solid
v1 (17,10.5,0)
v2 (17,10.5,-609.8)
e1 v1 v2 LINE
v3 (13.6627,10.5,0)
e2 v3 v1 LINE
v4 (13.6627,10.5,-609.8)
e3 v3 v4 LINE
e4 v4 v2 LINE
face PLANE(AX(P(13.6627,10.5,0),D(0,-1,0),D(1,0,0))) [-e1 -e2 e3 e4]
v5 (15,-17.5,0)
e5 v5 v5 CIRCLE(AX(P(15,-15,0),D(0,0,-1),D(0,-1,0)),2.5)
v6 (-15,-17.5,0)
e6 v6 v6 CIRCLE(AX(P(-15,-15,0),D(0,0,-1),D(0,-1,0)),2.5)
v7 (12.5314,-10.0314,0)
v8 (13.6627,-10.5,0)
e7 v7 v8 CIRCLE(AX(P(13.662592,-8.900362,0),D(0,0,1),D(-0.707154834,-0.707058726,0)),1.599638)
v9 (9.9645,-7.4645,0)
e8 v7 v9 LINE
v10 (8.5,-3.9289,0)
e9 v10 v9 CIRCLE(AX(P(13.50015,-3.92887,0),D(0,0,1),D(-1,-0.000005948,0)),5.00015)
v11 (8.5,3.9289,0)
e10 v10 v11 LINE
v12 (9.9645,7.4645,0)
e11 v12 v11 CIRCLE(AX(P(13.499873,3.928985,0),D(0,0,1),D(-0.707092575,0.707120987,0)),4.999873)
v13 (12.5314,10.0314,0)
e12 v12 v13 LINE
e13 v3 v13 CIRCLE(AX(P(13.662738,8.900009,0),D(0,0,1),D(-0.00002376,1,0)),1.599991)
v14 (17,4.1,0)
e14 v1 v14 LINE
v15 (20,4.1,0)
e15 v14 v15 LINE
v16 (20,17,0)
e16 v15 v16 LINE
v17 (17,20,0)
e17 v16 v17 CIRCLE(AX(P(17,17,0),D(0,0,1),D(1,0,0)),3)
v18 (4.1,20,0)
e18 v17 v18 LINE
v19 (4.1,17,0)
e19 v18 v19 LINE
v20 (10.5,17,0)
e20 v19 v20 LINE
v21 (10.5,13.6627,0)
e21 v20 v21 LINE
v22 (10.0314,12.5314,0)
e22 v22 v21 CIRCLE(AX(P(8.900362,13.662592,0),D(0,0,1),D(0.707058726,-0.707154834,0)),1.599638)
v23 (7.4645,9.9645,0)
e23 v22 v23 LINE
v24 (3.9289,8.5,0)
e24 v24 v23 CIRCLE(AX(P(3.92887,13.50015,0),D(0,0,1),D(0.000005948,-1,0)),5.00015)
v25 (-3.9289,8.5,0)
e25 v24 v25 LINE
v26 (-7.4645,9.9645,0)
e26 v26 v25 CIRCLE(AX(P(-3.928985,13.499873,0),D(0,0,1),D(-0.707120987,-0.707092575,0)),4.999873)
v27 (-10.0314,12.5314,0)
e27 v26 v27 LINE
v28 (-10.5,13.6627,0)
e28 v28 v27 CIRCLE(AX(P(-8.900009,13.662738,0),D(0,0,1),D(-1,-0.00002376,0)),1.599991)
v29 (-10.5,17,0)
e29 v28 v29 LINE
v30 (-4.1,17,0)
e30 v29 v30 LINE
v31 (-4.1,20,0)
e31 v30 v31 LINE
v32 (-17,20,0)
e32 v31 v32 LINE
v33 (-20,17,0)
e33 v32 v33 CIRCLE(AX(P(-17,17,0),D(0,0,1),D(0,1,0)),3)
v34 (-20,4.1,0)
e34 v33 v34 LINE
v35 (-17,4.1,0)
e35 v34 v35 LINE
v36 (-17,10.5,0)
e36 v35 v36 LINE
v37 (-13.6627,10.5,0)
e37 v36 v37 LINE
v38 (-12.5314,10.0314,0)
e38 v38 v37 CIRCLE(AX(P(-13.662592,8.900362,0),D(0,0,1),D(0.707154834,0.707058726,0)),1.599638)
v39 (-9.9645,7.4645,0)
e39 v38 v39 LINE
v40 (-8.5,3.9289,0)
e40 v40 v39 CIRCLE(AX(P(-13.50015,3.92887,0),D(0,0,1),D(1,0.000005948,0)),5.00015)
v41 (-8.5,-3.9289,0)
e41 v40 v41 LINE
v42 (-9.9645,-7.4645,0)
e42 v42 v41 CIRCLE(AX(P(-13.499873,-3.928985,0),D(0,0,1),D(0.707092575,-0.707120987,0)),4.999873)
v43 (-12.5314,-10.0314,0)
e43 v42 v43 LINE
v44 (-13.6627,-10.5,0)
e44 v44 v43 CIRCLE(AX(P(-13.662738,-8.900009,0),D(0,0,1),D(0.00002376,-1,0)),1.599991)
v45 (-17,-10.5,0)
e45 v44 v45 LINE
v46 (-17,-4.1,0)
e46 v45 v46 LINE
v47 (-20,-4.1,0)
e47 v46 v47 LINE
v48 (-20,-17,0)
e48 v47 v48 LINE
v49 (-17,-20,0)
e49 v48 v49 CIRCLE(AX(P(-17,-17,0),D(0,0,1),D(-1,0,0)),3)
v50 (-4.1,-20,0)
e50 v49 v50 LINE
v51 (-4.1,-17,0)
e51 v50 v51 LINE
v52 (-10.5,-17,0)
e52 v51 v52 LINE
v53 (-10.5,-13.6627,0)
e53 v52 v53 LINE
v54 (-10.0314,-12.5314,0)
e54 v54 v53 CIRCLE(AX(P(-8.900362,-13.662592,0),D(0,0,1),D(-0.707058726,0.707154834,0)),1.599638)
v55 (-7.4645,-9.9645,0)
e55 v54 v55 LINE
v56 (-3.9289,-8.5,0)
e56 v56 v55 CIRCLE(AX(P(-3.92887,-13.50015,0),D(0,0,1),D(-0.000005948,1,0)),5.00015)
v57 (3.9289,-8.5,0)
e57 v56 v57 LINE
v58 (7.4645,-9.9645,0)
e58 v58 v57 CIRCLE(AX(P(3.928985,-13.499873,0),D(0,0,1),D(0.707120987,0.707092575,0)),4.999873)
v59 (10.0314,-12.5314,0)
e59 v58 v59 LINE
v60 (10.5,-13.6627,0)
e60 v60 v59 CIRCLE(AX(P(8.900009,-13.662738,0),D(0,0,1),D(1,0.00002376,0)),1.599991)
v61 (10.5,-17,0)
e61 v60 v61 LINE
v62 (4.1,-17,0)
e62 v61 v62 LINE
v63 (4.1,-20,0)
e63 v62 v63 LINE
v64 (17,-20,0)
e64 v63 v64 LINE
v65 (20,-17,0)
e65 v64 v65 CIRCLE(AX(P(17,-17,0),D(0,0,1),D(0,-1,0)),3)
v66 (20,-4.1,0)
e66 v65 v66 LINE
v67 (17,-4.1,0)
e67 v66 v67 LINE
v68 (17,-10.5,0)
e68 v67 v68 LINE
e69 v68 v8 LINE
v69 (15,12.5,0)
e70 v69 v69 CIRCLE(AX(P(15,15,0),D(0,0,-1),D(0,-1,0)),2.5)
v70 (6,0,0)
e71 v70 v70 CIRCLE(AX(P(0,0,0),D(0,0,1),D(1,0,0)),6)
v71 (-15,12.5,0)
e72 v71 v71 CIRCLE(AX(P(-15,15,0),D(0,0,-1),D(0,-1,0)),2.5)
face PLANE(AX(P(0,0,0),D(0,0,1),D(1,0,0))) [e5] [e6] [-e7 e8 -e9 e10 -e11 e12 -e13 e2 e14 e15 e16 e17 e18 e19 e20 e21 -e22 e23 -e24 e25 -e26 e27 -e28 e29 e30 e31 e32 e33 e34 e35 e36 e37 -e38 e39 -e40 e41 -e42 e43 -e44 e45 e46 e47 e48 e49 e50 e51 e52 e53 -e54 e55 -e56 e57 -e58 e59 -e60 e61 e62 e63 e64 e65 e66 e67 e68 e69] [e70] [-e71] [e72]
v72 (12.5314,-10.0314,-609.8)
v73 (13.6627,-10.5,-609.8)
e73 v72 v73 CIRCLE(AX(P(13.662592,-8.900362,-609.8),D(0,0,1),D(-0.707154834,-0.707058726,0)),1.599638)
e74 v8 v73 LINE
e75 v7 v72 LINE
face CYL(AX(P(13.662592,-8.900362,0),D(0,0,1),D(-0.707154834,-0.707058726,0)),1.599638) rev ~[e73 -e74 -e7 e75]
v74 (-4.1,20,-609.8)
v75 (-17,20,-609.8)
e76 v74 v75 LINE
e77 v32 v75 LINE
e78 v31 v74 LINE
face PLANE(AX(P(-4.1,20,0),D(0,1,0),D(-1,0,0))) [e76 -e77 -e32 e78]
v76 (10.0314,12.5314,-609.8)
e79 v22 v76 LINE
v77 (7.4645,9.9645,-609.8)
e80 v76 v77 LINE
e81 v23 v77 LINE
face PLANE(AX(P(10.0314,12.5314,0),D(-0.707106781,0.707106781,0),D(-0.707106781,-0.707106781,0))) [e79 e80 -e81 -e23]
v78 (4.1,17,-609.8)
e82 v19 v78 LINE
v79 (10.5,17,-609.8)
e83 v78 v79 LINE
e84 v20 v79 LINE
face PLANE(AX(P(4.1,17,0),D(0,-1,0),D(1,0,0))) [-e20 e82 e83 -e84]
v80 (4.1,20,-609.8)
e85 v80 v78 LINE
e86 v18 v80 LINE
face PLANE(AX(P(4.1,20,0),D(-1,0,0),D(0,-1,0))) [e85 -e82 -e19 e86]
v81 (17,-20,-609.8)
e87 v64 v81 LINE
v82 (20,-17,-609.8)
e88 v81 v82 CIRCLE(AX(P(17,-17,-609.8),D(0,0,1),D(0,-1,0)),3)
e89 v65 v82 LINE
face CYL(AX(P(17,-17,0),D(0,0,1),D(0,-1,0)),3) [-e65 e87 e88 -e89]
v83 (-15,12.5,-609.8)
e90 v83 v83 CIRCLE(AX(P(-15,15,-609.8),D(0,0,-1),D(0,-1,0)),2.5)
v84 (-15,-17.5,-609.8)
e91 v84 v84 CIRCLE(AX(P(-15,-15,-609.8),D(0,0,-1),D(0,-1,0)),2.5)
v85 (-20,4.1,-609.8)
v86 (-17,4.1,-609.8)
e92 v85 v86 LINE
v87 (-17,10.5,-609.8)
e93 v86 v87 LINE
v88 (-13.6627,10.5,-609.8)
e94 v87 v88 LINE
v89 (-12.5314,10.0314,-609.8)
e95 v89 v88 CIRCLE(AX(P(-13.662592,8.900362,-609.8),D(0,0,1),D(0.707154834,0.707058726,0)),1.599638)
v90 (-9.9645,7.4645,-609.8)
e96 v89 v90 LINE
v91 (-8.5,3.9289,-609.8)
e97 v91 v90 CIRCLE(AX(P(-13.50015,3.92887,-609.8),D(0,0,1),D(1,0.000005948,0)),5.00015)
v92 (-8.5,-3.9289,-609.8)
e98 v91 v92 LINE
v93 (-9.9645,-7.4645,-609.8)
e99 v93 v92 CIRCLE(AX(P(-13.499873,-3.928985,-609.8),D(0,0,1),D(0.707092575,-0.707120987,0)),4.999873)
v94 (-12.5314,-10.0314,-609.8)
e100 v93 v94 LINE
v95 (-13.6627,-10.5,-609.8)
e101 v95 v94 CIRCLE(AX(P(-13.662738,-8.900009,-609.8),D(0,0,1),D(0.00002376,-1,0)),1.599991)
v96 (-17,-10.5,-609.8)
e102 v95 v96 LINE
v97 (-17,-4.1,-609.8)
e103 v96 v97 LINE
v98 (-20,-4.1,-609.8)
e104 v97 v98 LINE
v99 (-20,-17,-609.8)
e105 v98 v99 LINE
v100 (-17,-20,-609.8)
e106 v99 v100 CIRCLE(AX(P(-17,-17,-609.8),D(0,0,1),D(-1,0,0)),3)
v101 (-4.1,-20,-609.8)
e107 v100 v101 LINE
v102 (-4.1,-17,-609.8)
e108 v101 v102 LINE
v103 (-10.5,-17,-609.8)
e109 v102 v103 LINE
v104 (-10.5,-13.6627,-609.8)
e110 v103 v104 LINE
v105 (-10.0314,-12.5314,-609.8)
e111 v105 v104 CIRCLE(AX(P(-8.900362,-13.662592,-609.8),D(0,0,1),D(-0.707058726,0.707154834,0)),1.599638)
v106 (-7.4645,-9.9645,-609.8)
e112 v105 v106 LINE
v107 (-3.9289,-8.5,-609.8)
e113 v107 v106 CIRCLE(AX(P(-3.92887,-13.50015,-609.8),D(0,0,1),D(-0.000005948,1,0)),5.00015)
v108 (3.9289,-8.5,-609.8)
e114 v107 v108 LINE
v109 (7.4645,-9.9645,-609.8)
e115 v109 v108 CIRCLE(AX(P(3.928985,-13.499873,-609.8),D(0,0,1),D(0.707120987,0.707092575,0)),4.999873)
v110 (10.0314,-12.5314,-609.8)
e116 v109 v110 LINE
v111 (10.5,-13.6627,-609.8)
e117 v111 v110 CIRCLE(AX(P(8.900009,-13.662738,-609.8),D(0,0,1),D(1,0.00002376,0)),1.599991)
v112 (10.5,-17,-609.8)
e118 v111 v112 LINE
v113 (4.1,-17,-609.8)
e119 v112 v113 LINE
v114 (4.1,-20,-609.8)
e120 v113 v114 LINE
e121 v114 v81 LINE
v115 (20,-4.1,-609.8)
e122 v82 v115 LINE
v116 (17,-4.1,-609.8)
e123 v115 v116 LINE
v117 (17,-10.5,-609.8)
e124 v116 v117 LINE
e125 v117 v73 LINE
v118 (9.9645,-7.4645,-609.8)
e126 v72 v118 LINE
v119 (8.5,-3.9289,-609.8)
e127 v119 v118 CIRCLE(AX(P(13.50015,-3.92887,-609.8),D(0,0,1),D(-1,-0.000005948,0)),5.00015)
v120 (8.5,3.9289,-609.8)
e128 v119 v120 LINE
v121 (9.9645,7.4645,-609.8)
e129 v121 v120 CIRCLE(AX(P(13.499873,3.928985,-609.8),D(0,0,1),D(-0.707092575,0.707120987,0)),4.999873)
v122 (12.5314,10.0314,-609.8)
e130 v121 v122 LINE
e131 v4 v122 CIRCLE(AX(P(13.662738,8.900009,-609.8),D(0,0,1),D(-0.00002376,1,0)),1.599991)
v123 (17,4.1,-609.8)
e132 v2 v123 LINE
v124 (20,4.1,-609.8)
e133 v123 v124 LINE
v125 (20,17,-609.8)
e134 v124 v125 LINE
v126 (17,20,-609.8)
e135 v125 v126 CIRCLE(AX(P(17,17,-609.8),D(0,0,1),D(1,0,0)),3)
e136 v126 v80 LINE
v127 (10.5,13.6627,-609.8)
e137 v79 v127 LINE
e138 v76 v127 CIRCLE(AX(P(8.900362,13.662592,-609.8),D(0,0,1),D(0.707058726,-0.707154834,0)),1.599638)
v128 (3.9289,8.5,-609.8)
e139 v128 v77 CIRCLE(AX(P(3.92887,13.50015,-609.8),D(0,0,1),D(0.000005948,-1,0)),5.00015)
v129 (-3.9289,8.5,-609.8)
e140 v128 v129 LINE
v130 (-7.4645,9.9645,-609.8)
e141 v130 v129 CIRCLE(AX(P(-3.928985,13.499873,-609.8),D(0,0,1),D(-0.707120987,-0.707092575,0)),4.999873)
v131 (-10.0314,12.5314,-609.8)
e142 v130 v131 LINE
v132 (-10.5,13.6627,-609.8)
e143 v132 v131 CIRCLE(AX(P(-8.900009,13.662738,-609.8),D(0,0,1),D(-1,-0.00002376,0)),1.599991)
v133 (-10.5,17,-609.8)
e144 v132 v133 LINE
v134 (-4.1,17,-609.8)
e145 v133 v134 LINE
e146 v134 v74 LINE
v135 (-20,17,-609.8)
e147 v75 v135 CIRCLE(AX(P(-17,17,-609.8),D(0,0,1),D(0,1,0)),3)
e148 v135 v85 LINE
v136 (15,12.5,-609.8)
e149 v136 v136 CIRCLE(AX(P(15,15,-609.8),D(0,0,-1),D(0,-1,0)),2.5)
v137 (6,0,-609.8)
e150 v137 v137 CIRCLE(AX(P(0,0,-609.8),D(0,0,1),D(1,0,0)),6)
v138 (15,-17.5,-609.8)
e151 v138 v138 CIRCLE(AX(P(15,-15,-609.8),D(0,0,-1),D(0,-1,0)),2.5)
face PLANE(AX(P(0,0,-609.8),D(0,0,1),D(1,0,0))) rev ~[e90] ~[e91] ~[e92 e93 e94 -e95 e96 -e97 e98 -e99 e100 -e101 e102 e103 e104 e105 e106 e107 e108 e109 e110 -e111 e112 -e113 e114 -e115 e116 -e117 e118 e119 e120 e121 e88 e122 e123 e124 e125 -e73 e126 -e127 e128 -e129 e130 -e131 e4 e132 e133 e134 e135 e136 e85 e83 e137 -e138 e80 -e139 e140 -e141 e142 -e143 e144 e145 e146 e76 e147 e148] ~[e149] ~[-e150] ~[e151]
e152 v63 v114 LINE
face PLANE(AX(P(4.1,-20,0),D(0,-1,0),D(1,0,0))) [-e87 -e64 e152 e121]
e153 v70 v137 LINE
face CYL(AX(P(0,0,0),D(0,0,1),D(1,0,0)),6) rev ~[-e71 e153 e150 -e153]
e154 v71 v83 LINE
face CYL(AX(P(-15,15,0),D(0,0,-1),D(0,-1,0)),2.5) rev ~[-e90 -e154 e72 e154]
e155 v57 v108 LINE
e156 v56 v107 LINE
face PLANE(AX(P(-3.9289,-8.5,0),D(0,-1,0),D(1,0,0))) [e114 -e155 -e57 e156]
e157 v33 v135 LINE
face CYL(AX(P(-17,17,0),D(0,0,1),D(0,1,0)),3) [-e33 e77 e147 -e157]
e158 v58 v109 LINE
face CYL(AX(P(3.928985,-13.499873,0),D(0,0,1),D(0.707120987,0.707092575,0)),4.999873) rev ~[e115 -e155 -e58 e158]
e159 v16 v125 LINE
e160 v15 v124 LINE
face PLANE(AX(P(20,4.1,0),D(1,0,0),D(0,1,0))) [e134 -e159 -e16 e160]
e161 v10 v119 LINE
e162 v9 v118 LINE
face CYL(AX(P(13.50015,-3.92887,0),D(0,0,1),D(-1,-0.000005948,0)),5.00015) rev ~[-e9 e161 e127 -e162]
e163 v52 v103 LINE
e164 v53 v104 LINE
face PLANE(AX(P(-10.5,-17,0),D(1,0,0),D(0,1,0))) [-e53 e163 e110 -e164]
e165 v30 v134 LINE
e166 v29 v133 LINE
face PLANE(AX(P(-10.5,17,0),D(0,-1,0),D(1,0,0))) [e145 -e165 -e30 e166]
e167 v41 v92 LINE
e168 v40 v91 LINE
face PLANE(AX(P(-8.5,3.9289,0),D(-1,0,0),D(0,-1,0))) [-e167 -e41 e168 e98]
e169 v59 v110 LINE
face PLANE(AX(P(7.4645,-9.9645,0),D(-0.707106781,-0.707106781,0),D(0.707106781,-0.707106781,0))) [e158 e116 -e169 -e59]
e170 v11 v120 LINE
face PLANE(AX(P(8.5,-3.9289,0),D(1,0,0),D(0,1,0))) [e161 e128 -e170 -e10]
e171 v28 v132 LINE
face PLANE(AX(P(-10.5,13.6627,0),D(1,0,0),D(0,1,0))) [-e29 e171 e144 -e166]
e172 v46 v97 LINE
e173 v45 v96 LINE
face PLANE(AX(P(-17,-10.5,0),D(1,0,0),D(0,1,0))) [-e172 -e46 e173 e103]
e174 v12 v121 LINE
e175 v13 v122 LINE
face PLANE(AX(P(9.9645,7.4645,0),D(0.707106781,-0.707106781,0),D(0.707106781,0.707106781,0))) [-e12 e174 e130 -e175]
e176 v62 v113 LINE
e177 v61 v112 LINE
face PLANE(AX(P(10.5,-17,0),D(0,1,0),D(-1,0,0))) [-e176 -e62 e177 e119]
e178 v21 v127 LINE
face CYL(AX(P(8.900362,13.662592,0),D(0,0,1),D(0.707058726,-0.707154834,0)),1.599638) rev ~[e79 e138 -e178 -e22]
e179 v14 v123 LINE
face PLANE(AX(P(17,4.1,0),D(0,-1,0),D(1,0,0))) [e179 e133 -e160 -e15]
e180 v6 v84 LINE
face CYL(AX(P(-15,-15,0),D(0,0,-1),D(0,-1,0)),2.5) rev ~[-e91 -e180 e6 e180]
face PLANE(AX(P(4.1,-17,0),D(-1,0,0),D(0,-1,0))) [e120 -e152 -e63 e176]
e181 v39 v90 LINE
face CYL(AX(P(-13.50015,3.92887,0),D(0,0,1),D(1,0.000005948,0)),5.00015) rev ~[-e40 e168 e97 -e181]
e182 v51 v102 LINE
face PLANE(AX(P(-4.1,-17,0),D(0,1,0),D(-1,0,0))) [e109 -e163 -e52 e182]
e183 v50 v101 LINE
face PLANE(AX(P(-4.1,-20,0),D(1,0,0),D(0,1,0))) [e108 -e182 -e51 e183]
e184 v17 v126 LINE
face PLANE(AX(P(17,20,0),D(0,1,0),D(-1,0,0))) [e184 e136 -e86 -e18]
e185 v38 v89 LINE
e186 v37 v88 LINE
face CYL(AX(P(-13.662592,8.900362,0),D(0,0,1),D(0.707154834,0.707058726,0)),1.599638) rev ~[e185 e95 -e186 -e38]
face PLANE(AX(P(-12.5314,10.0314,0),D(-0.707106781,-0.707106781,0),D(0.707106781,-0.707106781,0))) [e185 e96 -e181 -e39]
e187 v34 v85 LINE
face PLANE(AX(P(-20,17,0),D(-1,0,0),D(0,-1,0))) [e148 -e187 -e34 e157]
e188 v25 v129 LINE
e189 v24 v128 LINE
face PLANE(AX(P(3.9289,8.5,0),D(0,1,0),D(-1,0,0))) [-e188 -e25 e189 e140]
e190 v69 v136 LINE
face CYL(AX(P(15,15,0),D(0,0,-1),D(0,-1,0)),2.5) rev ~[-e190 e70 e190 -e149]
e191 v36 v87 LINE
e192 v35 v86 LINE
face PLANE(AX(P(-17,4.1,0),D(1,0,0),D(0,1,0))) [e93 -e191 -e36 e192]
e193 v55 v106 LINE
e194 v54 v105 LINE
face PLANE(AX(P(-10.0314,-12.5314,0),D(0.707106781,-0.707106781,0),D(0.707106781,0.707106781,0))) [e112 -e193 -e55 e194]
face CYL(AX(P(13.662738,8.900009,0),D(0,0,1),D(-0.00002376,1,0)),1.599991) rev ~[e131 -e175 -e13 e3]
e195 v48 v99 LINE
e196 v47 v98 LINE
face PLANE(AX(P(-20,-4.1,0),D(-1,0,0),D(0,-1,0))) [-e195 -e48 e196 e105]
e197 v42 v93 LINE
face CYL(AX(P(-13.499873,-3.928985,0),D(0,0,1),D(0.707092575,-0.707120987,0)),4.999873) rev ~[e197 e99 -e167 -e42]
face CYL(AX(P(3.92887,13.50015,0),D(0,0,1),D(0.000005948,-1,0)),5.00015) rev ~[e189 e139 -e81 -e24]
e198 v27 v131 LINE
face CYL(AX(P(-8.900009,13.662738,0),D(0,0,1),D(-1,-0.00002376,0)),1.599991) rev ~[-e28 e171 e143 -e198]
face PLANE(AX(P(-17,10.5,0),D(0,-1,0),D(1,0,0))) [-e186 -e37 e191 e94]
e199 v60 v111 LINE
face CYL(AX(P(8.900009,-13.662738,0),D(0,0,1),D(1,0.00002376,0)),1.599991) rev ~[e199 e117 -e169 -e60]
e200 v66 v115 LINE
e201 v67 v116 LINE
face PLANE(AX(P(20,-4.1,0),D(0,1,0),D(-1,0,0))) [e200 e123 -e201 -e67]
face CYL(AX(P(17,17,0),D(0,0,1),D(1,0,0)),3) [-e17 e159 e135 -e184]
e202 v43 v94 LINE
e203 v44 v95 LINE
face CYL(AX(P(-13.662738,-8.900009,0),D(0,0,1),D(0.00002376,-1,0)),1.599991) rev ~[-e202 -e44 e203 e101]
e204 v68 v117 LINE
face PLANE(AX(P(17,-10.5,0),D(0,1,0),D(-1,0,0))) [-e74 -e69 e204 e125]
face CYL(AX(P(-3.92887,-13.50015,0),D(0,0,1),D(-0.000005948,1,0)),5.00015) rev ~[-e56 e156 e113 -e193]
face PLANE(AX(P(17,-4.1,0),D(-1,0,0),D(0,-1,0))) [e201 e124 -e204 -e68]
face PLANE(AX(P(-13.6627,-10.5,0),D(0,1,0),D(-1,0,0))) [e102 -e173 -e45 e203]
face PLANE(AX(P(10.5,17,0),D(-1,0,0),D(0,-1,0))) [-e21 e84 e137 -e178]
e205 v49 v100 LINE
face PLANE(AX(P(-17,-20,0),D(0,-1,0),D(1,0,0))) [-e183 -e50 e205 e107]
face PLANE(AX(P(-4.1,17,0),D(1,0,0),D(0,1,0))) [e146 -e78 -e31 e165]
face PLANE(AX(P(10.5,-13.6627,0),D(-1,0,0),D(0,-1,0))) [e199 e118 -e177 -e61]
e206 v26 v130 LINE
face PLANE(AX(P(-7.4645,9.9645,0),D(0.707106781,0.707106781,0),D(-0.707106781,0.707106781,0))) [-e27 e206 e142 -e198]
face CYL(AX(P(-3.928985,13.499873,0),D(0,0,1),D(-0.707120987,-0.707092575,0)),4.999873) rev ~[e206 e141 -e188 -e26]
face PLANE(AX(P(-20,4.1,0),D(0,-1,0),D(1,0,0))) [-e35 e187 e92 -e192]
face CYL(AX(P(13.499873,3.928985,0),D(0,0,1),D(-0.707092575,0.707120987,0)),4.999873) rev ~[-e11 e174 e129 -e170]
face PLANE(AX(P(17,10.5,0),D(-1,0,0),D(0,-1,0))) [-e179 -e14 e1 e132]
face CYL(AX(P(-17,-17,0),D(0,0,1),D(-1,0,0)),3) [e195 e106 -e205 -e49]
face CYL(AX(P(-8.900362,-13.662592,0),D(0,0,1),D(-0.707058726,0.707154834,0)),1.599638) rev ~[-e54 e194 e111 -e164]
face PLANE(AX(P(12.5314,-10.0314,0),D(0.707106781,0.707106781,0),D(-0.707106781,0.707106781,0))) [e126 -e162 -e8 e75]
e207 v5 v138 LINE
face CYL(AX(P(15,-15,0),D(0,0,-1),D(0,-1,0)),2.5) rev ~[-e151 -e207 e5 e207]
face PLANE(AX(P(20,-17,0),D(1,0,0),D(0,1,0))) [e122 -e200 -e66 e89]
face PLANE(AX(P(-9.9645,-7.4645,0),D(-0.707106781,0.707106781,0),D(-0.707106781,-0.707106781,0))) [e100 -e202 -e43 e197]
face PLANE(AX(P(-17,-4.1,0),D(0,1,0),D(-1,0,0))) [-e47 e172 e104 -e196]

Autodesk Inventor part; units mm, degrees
sketch "Skizze_1" plane through (0, 0, 0) normal (0, 0, 1) x (1, 0, 0)
  arc A0 (-20, -17) -> (-17, -20) centre (-17, -17) ccw
  line L0 (-17, -20) -> (-4.1, -20)
  line L1 (-4.1, -20) -> (-4.1, -17)
  line L2 (-4.1, -17) -> (-10.5, -17)
  line L3 (-10.5, -17) -> (-10.5, -13.6627)
  arc A1 (-10.0314, -12.5314) -> (-10.5, -13.6627) centre (-8.9002, -13.6627) ccw
  line L4 (-10.0314, -12.5314) -> (-7.4645, -9.9645)
  arc A2 (-3.9289, -8.5) -> (-7.4645, -9.9645) centre (-3.9289, -13.5) ccw
  line L5 (-3.9289, -8.5) -> (3.9289, -8.5)
  arc A3 (7.4645, -9.9645) -> (3.9289, -8.5) centre (3.9289, -13.5) ccw
  line L6 (7.4645, -9.9645) -> (10.0314, -12.5314)
  arc A4 (10.5, -13.6627) -> (10.0314, -12.5314) centre (8.9002, -13.6627) ccw
  line L7 (10.5, -13.6627) -> (10.5, -17)
  line L8 (10.5, -17) -> (4.1, -17)
  line L9 (4.1, -17) -> (4.1, -20)
  line L10 (4.1, -20) -> (17, -20)
  arc A5 (17, -20) -> (20, -17) centre (17, -17) ccw
  line L11 (20, -17) -> (20, -4.1)
  line L12 (20, -4.1) -> (17, -4.1)
  line L13 (17, -4.1) -> (17, -10.5)
  line L14 (17, -10.5) -> (13.6627, -10.5)
  arc A6 (12.5314, -10.0314) -> (13.6627, -10.5) centre (13.6627, -8.9002) ccw
  line L15 (12.5314, -10.0314) -> (9.9645, -7.4645)
  arc A7 (8.5, -3.9289) -> (9.9645, -7.4645) centre (13.5, -3.9289) ccw
  line L16 (8.5, -3.9289) -> (8.5, 3.9289)
  arc A8 (9.9645, 7.4645) -> (8.5, 3.9289) centre (13.5, 3.9289) ccw
  line L17 (9.9645, 7.4645) -> (12.5314, 10.0314)
  arc A9 (13.6627, 10.5) -> (12.5314, 10.0314) centre (13.6627, 8.9002) ccw
  line L18 (13.6627, 10.5) -> (17, 10.5)
  line L19 (17, 10.5) -> (17, 4.1)
  line L20 (17, 4.1) -> (20, 4.1)
  line L21 (20, 4.1) -> (20, 17)
  arc A10 (20, 17) -> (17, 20) centre (17, 17) ccw
  line L22 (17, 20) -> (4.1, 20)
  line L23 (4.1, 20) -> (4.1, 17)
  line L24 (4.1, 17) -> (10.5, 17)
  line L25 (10.5, 17) -> (10.5, 13.6627)
  arc A11 (10.0314, 12.5314) -> (10.5, 13.6627) centre (8.9002, 13.6627) ccw
  line L26 (10.0314, 12.5314) -> (7.4645, 9.9645)
  arc A12 (3.9289, 8.5) -> (7.4645, 9.9645) centre (3.9289, 13.5) ccw
  line L27 (3.9289, 8.5) -> (-3.9289, 8.5)
  arc A13 (-7.4645, 9.9645) -> (-3.9289, 8.5) centre (-3.9289, 13.5) ccw
  line L28 (-7.4645, 9.9645) -> (-10.0314, 12.5314)
  arc A14 (-10.5, 13.6627) -> (-10.0314, 12.5314) centre (-8.9002, 13.6627) ccw
  line L29 (-10.5, 13.6627) -> (-10.5, 17)
  line L30 (-10.5, 17) -> (-4.1, 17)
  line L31 (-4.1, 17) -> (-4.1, 20)
  line L32 (-4.1, 20) -> (-17, 20)
  arc A15 (-17, 20) -> (-20, 17) centre (-17, 17) ccw
  line L33 (-20, 17) -> (-20, 4.1)
  line L34 (-20, 4.1) -> (-17, 4.1)
  line L35 (-17, 4.1) -> (-17, 10.5)
  line L36 (-17, 10.5) -> (-13.6627, 10.5)
  arc A16 (-12.5314, 10.0314) -> (-13.6627, 10.5) centre (-13.6627, 8.9002) ccw
  line L37 (-12.5314, 10.0314) -> (-9.9645, 7.4645)
  arc A17 (-8.5, 3.9289) -> (-9.9645, 7.4645) centre (-13.5, 3.9289) ccw
  line L38 (-8.5, 3.9289) -> (-8.5, -3.9289)
  arc A18 (-9.9645, -7.4645) -> (-8.5, -3.9289) centre (-13.5, -3.9289) ccw
  line L39 (-9.9645, -7.4645) -> (-12.5314, -10.0314)
  arc A19 (-13.6627, -10.5) -> (-12.5314, -10.0314) centre (-13.6627, -8.9002) ccw
  line L40 (-13.6627, -10.5) -> (-17, -10.5)
  line L41 (-17, -10.5) -> (-17, -4.1)
  line L42 (-17, -4.1) -> (-20, -4.1)
  line L43 (-20, -4.1) -> (-20, -17)
  circle A20 centre (0, 0) radius 6
extrude "Extrusion1" add sketch "Skizze_1" against normal blind 609.8
sketch "Sketch2" plane through (0, 0, 0) normal (0, 0, 1) x (1, 0, 0)
  point P0 (-15, -15)
hole "Drilling 1" at (-15, -15, 0) direction (0, 0, -1) diameter 5 depth 6000
sketch "Sketch3" plane through (0, 0, 0) normal (0, 0, 1) x (1, 0, 0)
  point P0 (15, -15)
hole "Drilling 2" at (15, -15, 0) direction (0, 0, -1) diameter 5 depth 6000
sketch "Sketch4" plane through (0, 0, 0) normal (0, 0, 1) x (1, 0, 0)
  point P0 (15, 15)
hole "Drilling 3" at (15, 15, 0) direction (0, 0, -1) diameter 5 depth 6000
sketch "Sketch5" plane through (0, 0, 0) normal (0, 0, 1) x (1, 0, 0)
  point P0 (-15, 15)
hole "Drilling 4" at (-15, 15, 0) direction (0, 0, -1) diameter 5 depth 6000
ref_plane "side_4d_XY" through (-20, 0, -304.9) normal (-1, 0, 0) x (0, 1, 0)
ref_plane "side_4d_YZ" through (-20, 0, -304.9) normal (0, 1, 0) x (0, 0, -1)
ref_plane "side_4d_ZX" through (-20, 0, -304.9) normal (0, 0, -1) x (-1, 0, 0)
ref_plane "side_1a_XY" through (0, 20, -304.9) normal (0, 1, 0) x (1, 0, 0)
ref_plane "side_1a_YZ" through (0, 20, -304.9) normal (1, 0, 0) x (0, 0, -1)
ref_plane "side_1a_ZX" through (0, 20, -304.9) normal (0, 0, -1) x (0, 1, 0)
ref_plane "side_2b_XY" through (20, 0, -304.9) normal (1, 0, 0) x (0, -1, 0)
ref_plane "side_2b_YZ" through (20, 0, -304.9) normal (0, -1, 0) x (0, 0, -1)
ref_plane "side_2b_ZX" through (20, 0, -304.9) normal (0, 0, -1) x (1, 0, 0)
ref_plane "side_3c_XY" through (0, -20, -304.9) normal (0, -1, 0) x (-1, 0, 0)
ref_plane "side_3c_YZ" through (0, -20, -304.9) normal (-1, 0, 0) x (0, 0, -1)
ref_plane "side_3c_ZX" through (0, -20, -304.9) normal (0, 0, -1) x (0, -1, 0)
ref_plane "end_XY" through (0, 0, -609.8) normal (0, 0, -1) x (1, 0, 0)
ref_plane "end_YZ" through (0, 0, -609.8) normal (1, 0, 0) x (0, -1, 0)
ref_plane "end_ZX" through (0, 0, -609.8) normal (0, -1, 0) x (0, 0, -1)
ref_plane "start_XY" through (0, 0, 0) normal (0, 0, 1) x (1, 0, 0)
ref_plane "start_YZ" through (0, 0, 0) normal (1, 0, 0) x (0, 1, 0)
ref_plane "start_ZX" through (0, 0, 0) normal (0, 1, 0) x (0, 0, 1)
properties part number "MayTec 1.11.040040.43S_Profile 40x40, 4E, S_609.8_Detail_(0;0,0,0)"
